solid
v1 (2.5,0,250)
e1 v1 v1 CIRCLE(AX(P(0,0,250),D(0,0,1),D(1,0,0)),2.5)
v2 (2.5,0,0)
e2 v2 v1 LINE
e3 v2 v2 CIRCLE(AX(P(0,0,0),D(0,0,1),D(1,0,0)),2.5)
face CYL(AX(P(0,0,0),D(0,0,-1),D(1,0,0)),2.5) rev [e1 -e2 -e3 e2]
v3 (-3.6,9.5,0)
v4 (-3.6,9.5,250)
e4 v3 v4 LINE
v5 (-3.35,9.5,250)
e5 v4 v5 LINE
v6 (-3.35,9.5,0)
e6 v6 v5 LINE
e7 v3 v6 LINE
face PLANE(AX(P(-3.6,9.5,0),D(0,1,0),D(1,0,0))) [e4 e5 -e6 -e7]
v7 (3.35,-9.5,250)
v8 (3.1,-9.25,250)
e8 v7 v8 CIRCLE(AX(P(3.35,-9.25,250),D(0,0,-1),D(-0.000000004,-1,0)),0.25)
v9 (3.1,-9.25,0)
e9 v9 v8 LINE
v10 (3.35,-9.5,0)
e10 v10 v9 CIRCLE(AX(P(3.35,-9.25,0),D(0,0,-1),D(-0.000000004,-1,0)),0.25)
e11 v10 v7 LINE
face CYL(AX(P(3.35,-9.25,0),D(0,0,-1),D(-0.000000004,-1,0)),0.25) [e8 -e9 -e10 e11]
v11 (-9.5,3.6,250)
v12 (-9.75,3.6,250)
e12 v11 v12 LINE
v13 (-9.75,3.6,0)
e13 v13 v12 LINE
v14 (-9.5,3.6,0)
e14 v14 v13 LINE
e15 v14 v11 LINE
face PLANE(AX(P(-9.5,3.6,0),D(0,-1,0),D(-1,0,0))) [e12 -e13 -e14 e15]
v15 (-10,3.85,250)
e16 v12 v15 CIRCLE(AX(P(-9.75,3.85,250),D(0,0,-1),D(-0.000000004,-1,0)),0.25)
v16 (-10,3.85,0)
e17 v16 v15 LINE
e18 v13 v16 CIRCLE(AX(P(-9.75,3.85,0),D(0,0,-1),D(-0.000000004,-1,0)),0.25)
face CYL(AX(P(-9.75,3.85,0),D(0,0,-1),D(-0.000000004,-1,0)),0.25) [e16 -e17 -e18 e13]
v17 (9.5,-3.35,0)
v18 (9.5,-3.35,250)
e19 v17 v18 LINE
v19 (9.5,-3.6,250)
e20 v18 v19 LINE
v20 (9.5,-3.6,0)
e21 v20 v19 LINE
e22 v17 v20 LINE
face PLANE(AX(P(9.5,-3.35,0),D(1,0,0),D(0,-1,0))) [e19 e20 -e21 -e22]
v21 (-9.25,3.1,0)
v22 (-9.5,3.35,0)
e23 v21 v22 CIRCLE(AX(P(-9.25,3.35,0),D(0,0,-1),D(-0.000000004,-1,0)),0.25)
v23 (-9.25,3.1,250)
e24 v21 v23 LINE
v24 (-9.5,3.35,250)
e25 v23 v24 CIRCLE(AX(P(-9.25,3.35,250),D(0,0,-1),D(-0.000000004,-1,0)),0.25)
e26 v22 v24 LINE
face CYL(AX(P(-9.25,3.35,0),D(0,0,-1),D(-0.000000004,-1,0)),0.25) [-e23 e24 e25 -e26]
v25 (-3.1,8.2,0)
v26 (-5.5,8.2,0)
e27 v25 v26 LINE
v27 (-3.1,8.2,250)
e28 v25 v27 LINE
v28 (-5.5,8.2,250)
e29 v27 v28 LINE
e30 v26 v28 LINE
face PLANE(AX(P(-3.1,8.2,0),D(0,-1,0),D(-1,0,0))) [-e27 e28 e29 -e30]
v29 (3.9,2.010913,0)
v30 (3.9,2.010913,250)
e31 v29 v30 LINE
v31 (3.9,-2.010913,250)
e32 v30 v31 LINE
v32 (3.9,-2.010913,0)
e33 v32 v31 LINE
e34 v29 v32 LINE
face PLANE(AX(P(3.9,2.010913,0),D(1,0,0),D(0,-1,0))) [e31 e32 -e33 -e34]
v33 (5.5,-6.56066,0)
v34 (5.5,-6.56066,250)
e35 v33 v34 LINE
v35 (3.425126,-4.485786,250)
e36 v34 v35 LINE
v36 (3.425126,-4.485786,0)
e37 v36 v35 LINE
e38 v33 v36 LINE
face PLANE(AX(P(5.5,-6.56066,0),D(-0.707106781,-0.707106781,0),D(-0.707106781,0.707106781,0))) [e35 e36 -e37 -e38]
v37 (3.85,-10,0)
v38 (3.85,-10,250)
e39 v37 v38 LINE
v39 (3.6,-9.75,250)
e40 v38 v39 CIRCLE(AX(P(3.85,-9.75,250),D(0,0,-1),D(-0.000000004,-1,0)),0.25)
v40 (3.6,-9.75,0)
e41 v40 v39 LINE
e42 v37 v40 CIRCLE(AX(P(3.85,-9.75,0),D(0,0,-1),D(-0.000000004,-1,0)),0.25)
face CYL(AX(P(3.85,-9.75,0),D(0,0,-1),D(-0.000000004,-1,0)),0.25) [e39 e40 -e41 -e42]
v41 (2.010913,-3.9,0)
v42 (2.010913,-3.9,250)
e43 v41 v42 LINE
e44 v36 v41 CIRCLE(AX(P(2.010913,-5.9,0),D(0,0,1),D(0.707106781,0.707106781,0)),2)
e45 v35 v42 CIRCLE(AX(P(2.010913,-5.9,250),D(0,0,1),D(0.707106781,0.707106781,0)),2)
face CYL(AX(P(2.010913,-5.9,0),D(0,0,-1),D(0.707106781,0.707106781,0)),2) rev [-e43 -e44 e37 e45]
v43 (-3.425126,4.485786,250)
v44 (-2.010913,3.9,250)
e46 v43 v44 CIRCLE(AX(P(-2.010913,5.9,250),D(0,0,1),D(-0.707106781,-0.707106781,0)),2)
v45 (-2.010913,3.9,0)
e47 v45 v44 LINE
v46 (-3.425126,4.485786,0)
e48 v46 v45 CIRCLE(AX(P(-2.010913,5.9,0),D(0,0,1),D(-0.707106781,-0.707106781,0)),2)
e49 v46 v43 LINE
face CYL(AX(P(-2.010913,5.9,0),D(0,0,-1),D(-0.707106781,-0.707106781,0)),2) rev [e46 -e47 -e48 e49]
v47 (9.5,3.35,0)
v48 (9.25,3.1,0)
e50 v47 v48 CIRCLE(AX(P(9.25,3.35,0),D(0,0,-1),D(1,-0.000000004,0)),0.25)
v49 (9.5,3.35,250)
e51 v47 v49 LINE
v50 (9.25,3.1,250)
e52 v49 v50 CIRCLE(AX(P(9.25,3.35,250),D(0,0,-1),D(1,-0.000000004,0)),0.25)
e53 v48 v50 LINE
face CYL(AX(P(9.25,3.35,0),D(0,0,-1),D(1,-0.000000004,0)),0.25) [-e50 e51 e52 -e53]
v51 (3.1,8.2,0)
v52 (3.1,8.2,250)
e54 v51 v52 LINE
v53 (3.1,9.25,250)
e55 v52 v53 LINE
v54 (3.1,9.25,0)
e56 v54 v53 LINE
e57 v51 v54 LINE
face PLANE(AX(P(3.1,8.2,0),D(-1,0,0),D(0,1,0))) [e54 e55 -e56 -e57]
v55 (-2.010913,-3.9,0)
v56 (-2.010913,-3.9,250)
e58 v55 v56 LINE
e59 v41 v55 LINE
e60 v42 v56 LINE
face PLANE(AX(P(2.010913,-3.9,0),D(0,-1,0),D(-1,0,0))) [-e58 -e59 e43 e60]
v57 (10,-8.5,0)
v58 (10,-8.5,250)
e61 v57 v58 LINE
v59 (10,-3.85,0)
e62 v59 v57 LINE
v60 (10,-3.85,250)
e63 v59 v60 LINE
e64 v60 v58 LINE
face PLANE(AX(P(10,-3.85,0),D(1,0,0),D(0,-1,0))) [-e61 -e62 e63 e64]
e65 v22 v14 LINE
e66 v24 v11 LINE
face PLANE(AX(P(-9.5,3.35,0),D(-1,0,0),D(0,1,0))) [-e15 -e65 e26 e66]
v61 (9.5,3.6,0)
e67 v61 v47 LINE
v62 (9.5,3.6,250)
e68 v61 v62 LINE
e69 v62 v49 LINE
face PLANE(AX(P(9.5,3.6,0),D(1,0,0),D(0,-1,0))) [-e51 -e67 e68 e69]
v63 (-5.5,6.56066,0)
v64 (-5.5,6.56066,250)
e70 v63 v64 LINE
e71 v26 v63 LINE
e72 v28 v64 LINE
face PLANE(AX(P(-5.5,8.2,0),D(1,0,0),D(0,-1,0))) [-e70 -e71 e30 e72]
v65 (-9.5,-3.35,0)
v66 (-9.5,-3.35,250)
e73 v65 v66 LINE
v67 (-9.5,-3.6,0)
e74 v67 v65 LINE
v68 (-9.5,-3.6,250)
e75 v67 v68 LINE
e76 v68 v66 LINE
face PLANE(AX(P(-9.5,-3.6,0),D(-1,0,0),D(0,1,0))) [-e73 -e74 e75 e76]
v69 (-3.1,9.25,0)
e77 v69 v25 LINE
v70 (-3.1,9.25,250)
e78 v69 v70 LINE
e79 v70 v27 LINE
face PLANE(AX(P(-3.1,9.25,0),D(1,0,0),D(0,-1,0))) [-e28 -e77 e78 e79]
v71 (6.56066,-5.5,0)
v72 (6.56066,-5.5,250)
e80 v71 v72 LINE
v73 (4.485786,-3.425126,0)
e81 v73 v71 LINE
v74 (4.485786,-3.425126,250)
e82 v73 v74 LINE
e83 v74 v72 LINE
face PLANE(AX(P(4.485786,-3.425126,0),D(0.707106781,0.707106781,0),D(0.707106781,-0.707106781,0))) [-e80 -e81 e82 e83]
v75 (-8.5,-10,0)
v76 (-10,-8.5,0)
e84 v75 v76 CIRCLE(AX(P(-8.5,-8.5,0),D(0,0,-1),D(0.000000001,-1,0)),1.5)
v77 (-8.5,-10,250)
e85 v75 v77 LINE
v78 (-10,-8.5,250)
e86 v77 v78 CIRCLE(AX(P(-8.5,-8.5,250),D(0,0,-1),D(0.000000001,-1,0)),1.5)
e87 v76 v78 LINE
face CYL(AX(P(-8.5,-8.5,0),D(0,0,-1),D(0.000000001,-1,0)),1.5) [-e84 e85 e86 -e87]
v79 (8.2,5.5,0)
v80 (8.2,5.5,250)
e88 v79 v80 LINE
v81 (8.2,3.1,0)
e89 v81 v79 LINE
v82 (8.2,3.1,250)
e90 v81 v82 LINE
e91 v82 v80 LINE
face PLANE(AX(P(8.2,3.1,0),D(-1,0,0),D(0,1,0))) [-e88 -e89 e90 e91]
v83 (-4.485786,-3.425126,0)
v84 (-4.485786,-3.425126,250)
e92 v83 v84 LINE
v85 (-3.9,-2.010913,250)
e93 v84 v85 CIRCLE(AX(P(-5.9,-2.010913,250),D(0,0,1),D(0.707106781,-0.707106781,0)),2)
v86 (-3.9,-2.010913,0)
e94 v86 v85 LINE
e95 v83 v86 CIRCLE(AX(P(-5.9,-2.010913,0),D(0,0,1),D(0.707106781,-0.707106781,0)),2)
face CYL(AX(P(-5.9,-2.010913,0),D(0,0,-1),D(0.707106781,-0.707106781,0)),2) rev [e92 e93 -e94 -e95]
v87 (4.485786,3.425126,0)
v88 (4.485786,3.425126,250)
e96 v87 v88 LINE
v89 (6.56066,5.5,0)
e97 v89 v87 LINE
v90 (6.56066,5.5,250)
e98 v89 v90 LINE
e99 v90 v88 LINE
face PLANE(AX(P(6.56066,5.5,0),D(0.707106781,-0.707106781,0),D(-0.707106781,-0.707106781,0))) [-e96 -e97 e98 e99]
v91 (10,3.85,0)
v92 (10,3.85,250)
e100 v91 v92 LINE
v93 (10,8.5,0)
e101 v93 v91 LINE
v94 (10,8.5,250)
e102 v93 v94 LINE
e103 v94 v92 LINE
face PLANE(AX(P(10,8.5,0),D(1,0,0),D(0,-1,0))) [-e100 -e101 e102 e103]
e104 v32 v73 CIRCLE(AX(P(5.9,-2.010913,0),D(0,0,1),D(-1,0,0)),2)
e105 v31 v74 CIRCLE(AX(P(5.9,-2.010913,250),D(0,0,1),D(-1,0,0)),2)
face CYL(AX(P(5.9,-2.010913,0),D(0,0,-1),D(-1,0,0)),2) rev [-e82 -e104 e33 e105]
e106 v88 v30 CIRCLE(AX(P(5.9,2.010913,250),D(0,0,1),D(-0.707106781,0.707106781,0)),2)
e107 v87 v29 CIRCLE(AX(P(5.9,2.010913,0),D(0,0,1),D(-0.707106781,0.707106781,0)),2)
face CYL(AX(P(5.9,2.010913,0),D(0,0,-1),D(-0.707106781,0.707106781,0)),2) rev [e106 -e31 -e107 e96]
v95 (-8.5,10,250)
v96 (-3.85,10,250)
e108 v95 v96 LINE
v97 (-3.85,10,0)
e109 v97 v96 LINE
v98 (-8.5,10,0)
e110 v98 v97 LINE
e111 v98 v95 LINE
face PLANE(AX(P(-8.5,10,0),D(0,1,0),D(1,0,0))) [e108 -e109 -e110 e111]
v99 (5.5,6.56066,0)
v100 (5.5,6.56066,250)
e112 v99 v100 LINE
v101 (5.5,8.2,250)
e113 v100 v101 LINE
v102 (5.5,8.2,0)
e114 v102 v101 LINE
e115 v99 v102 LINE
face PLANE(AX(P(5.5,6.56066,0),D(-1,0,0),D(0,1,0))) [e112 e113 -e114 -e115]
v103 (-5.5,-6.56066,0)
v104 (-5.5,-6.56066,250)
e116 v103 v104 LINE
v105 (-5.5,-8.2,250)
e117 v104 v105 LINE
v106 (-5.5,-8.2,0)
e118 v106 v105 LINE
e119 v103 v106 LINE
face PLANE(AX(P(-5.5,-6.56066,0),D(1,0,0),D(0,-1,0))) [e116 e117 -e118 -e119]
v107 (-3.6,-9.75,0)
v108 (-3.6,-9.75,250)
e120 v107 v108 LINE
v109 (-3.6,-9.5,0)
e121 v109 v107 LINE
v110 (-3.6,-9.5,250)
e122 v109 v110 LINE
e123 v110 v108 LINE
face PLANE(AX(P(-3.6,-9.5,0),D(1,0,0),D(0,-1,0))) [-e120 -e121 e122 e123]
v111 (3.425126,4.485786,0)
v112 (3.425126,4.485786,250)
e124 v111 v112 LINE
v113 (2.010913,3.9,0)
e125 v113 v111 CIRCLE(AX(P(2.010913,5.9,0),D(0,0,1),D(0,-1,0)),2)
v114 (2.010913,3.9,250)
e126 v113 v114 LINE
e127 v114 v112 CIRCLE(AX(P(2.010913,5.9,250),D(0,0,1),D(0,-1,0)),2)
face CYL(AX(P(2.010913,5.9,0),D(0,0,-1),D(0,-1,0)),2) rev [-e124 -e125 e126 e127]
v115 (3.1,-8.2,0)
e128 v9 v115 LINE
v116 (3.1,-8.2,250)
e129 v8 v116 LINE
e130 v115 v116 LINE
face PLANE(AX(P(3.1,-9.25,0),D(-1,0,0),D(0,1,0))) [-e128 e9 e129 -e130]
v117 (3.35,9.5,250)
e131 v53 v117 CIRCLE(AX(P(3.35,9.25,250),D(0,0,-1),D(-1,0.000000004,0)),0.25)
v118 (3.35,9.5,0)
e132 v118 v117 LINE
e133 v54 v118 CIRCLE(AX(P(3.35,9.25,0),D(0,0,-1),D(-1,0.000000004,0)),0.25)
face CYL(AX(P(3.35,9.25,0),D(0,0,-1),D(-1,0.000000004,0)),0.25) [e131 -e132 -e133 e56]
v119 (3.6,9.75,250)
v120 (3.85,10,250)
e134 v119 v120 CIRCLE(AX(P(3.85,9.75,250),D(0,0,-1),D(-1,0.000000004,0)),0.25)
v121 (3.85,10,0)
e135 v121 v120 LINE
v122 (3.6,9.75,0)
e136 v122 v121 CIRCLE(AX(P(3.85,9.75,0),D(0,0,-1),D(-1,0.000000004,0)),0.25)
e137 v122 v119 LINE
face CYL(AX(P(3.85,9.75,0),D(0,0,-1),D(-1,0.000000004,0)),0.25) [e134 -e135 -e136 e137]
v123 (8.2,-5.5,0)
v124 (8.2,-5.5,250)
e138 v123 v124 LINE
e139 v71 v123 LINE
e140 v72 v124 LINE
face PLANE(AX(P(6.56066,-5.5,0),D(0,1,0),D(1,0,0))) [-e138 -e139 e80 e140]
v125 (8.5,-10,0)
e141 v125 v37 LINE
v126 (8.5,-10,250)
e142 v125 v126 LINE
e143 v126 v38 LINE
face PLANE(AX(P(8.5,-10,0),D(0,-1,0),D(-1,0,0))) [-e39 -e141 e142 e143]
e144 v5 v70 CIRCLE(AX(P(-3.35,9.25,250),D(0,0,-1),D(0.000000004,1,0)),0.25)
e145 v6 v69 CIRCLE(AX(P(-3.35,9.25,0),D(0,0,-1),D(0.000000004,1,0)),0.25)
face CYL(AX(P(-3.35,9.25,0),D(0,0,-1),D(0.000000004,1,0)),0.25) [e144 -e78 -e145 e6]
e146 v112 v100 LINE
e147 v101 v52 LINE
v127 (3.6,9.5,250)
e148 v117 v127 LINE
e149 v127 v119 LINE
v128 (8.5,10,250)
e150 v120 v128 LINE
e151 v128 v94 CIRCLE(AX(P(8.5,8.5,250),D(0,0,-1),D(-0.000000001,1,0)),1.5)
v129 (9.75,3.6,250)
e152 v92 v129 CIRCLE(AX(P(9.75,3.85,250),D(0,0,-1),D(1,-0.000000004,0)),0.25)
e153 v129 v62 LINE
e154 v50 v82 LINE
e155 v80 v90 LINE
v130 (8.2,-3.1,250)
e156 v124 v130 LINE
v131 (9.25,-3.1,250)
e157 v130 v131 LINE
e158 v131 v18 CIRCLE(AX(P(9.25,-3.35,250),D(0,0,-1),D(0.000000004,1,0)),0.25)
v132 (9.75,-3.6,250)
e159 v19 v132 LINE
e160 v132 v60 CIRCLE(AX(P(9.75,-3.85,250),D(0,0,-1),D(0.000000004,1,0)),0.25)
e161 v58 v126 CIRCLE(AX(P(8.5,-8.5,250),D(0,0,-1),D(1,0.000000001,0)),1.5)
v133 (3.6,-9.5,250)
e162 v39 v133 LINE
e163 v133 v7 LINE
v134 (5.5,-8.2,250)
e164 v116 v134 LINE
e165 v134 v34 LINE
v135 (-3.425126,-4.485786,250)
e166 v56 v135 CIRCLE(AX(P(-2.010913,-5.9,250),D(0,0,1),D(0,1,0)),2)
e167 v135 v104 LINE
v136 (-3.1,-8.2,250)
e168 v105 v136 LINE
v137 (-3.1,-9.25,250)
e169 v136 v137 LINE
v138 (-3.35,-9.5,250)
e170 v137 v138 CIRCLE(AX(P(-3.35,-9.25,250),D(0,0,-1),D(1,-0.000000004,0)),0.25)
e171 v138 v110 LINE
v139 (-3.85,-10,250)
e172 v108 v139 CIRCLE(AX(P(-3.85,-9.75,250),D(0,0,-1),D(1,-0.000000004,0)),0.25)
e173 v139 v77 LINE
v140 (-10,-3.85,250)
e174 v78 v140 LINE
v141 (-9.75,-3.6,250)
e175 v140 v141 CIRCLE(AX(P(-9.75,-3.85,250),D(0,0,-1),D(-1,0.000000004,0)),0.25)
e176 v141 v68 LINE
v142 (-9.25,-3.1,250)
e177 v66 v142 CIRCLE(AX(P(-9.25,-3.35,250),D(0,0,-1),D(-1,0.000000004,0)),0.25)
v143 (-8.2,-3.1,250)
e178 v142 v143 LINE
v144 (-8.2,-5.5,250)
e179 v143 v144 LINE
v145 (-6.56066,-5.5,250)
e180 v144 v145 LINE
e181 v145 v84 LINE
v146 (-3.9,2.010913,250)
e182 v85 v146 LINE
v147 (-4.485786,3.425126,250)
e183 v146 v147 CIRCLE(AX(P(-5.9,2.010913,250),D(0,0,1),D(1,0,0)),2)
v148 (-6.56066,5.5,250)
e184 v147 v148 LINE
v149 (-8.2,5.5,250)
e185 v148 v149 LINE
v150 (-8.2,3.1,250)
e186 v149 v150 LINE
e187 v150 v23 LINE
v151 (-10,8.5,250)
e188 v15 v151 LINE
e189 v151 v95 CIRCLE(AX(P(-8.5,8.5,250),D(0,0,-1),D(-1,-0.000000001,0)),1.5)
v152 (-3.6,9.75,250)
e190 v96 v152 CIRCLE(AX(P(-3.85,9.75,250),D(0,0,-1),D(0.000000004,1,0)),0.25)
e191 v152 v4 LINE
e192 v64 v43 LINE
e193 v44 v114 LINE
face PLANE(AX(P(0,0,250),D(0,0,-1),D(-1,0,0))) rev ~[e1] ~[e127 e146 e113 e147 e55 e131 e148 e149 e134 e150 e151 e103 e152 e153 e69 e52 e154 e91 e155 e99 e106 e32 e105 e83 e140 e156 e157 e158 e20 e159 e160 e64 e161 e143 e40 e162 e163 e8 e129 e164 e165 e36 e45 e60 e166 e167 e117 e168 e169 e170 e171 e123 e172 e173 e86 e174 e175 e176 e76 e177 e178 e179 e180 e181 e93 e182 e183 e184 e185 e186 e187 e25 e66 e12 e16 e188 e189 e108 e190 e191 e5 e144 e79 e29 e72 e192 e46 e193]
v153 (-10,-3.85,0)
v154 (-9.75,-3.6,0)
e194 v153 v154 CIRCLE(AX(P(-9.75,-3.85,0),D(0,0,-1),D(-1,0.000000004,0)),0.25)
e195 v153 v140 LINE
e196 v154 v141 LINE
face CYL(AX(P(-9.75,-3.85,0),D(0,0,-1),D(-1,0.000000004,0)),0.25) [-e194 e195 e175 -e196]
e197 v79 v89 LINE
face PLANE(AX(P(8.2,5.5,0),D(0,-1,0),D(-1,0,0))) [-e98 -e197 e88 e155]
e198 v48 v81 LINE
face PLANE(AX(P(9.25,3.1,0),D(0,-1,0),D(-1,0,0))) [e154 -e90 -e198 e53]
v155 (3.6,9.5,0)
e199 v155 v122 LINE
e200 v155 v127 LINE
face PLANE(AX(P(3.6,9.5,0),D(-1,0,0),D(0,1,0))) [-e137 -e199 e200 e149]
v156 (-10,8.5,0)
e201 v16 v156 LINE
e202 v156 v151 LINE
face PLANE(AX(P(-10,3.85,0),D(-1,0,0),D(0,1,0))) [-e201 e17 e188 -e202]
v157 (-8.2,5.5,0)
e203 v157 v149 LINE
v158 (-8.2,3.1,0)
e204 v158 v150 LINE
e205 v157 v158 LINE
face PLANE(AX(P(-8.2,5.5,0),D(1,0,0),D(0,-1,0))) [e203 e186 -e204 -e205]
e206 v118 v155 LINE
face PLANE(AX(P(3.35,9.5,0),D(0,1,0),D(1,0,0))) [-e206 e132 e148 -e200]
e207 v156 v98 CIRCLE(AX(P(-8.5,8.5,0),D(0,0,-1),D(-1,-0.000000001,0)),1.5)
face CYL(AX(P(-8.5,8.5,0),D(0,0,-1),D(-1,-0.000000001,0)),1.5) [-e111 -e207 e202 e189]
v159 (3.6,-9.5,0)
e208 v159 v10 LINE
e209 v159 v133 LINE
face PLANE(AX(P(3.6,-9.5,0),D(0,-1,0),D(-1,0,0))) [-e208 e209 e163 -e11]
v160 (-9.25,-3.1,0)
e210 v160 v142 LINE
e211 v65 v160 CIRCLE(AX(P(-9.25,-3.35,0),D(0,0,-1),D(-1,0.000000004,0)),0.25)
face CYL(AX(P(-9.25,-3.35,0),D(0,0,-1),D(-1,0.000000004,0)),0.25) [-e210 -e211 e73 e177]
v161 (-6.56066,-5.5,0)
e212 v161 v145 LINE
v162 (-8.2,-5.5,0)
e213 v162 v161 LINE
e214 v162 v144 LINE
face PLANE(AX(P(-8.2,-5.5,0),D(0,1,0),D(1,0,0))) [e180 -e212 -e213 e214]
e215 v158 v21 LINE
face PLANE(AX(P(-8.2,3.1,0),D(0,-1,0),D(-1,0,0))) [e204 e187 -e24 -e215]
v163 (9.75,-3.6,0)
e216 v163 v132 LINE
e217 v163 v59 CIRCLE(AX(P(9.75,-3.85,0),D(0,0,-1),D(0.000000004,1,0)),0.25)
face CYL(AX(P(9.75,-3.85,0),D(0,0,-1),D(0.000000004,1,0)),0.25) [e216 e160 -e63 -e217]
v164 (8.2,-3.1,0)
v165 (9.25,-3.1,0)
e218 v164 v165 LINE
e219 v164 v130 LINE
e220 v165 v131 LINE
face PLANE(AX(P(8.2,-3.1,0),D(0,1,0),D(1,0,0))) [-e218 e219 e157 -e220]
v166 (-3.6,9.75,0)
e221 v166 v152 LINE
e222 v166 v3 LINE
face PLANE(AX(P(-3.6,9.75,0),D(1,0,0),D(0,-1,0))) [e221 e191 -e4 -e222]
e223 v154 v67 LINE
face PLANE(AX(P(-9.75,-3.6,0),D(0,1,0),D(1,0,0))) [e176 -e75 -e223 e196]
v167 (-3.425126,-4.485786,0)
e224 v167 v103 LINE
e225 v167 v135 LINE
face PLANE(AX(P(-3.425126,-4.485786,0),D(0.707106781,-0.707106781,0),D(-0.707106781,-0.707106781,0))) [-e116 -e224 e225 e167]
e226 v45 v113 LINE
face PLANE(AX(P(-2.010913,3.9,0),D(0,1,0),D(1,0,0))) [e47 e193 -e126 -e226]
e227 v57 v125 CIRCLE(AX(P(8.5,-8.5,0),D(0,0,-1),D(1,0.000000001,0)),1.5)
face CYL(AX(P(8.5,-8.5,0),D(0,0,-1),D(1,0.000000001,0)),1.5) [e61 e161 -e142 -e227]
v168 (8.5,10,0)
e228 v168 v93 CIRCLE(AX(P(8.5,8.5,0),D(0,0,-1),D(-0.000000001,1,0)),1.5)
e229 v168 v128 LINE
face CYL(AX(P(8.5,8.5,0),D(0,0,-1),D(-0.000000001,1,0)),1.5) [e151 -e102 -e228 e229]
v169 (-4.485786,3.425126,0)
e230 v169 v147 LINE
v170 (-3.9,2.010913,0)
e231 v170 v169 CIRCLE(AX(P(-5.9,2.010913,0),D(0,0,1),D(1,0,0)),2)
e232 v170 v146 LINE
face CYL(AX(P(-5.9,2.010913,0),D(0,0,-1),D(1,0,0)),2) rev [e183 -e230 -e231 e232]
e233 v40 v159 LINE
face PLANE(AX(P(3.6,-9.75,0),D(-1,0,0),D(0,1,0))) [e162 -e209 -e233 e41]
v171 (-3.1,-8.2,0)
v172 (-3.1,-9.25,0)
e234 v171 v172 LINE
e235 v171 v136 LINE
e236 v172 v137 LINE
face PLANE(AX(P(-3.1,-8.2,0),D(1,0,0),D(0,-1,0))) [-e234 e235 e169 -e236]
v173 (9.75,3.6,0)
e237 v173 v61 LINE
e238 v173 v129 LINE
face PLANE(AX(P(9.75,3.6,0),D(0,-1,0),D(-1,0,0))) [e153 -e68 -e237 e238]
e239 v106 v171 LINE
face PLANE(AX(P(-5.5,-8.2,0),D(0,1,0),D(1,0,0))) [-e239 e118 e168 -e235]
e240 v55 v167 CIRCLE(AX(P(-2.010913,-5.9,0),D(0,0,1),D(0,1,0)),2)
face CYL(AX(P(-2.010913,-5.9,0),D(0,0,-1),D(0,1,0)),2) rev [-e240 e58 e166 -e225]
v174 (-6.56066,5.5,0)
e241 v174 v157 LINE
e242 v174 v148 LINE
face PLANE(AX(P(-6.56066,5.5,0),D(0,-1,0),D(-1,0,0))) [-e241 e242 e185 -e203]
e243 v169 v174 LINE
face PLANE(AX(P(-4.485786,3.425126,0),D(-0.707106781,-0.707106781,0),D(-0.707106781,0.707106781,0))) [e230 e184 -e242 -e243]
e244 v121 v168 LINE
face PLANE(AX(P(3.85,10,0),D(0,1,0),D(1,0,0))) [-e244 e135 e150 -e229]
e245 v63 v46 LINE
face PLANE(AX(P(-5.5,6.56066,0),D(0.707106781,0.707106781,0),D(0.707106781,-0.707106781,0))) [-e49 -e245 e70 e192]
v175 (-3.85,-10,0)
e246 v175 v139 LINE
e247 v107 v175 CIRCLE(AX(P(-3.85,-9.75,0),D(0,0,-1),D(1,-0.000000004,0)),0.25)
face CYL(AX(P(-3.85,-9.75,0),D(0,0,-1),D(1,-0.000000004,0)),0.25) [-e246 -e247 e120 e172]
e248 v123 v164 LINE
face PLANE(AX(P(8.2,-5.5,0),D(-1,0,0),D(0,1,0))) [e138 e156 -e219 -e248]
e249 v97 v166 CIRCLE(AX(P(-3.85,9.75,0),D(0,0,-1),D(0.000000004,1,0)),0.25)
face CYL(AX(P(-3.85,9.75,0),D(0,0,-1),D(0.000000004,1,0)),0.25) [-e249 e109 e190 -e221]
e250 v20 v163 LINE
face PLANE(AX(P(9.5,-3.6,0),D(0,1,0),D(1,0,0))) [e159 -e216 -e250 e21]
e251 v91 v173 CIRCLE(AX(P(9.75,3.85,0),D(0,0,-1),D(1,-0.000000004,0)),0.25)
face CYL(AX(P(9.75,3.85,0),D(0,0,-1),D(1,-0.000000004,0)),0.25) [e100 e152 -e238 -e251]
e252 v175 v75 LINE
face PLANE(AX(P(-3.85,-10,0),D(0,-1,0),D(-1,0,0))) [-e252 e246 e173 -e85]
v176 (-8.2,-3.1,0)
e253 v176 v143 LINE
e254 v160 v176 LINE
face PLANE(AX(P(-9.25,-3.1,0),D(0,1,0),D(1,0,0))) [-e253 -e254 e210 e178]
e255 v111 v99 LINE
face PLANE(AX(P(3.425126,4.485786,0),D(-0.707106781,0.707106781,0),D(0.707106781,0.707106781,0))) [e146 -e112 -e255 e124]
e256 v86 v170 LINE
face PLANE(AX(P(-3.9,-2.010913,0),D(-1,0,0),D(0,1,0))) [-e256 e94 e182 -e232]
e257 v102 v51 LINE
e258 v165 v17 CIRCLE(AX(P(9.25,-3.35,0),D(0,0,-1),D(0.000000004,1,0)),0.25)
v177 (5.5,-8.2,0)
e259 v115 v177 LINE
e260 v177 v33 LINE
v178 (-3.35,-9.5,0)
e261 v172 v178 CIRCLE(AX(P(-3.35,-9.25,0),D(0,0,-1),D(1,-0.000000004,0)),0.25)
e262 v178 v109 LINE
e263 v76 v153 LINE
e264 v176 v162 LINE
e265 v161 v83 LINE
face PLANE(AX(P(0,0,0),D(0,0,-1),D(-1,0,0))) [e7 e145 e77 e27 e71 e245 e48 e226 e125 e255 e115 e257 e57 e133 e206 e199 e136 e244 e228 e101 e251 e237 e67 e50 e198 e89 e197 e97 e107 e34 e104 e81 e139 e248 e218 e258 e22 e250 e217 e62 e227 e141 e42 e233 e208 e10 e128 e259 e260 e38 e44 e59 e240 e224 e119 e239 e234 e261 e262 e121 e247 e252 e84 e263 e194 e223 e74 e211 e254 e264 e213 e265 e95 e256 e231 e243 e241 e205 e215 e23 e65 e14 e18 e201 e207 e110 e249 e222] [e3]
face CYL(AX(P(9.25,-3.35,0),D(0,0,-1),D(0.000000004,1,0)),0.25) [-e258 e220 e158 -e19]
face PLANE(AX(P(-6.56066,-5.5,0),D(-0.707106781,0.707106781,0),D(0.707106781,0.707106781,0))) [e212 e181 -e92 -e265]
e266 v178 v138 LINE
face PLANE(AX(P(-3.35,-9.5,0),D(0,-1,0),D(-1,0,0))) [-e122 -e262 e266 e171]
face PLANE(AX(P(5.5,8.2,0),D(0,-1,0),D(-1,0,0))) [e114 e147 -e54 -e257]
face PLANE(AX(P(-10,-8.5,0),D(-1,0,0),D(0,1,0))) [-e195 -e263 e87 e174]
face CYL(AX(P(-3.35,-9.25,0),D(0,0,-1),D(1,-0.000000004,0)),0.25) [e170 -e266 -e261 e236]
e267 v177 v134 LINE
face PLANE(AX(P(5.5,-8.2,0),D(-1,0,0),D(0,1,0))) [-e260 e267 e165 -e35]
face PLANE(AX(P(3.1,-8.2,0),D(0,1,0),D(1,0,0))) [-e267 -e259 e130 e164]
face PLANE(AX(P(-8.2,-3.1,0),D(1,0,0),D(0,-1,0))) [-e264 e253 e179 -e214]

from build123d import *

# Parameters (mm, degrees)
SKETCH1_R           = 2.5
BOSS_EXTRUDE1_DEPTH = 250


with BuildPart() as part:
    # Sketch1 → Boss-Extrude1 (new body)
    with BuildSketch(Plane.XY):
        with BuildLine():
            Line((-8.5, 10), (-3.85, 10))
            ThreePointArc((-3.85, 10), (-3.673223305, 9.926776695), (-3.6, 9.75))
            Line((-3.6, 9.75), (-3.6, 9.5))
            Line((-3.6, 9.5), (-3.35, 9.5))
            ThreePointArc((-3.35, 9.5), (-3.173223305, 9.426776695), (-3.1, 9.25))
            Line((-3.1, 9.25), (-3.1, 8.2))
            Line((-3.1, 8.2), (-5.5, 8.2))
            Line((-5.5, 8.2), (-5.5, 6.560660172))
            Line((-5.5, 6.560660172), (-3.425126266, 4.485786438))
            ThreePointArc((-3.425126266, 4.485786438), (-2.776279568, 4.052240935), (-2.010912703, 3.9))
            Line((-2.010912703, 3.9), (2.010912703, 3.9))
            ThreePointArc((2.010912703, 3.9), (2.776279568, 4.052240935), (3.425126266, 4.485786438))
            Line((3.425126266, 4.485786438), (5.5, 6.560660172))
            Line((5.5, 6.560660172), (5.5, 8.2))
            Line((5.5, 8.2), (3.1, 8.2))
            Line((3.1, 8.2), (3.1, 9.25))
            ThreePointArc((3.1, 9.25), (3.173223305, 9.426776695), (3.35, 9.5))
            Line((3.35, 9.5), (3.6, 9.5))
            Line((3.6, 9.5), (3.6, 9.75))
            ThreePointArc((3.6, 9.75), (3.673223305, 9.926776695), (3.85, 10))
            Line((3.85, 10), (8.5, 10))
            ThreePointArc((8.5, 10), (9.560660172, 9.560660172), (10, 8.5))
            Line((10, 8.5), (10, 3.85))
            ThreePointArc((10, 3.85), (9.926776695, 3.673223305), (9.75, 3.6))
            Line((9.75, 3.6), (9.5, 3.6))
            Line((9.5, 3.6), (9.5, 3.35))
            ThreePointArc((9.5, 3.35), (9.426776695, 3.173223305), (9.25, 3.1))
            Line((9.25, 3.1), (8.2, 3.1))
            Line((8.2, 3.1), (8.2, 5.5))
            Line((8.2, 5.5), (6.560660172, 5.5))
            Line((6.560660172, 5.5), (4.485786438, 3.425126266))
            ThreePointArc((4.485786438, 3.425126266), (4.052240935, 2.776279568), (3.9, 2.010912703))
            Line((3.9, 2.010912703), (3.9, -2.010912703))
            ThreePointArc((3.9, -2.010912703), (4.052240935, -2.776279568), (4.485786438, -3.425126266))
            Line((4.485786438, -3.425126266), (6.560660172, -5.5))
            Line((6.560660172, -5.5), (8.2, -5.5))
            Line((8.2, -5.5), (8.2, -3.1))
            Line((8.2, -3.1), (9.25, -3.1))
            ThreePointArc((9.25, -3.1), (9.426776695, -3.173223305), (9.5, -3.35))
            Line((9.5, -3.35), (9.5, -3.6))
            Line((9.5, -3.6), (9.75, -3.6))
            ThreePointArc((9.75, -3.6), (9.926776695, -3.673223305), (10, -3.85))
            Line((10, -3.85), (10, -8.5))
            ThreePointArc((10, -8.5), (9.560660172, -9.560660172), (8.5, -10))
            Line((8.5, -10), (3.85, -10))
            ThreePointArc((3.85, -10), (3.673223305, -9.926776695), (3.6, -9.75))
            Line((3.6, -9.75), (3.6, -9.5))
            Line((3.6, -9.5), (3.35, -9.5))
            ThreePointArc((3.35, -9.5), (3.173223305, -9.426776695), (3.1, -9.25))
            Line((3.1, -9.25), (3.1, -8.2))
            Line((3.1, -8.2), (5.5, -8.2))
            Line((5.5, -8.2), (5.5, -6.560660172))
            Line((5.5, -6.560660172), (3.425126266, -4.485786438))
            ThreePointArc((3.425126266, -4.485786438), (2.776279568, -4.052240935), (2.010912703, -3.9))
            Line((2.010912703, -3.9), (-2.010912703, -3.9))
            ThreePointArc((-2.010912703, -3.9), (-2.776279568, -4.052240935), (-3.425126266, -4.485786438))
            Line((-3.425126266, -4.485786438), (-5.5, -6.560660172))
            Line((-5.5, -6.560660172), (-5.5, -8.2))
            Line((-5.5, -8.2), (-3.1, -8.2))
            Line((-3.1, -8.2), (-3.1, -9.25))
            ThreePointArc((-3.1, -9.25), (-3.173223305, -9.426776695), (-3.35, -9.5))
            Line((-3.35, -9.5), (-3.6, -9.5))
            Line((-3.6, -9.5), (-3.6, -9.75))
            ThreePointArc((-3.6, -9.75), (-3.673223305, -9.926776695), (-3.85, -10))
            Line((-3.85, -10), (-8.5, -10))
            ThreePointArc((-8.5, -10), (-9.560660172, -9.560660172), (-10, -8.5))
            Line((-10, -8.5), (-10, -3.85))
            ThreePointArc((-10, -3.85), (-9.926776695, -3.673223305), (-9.75, -3.6))
            Line((-9.75, -3.6), (-9.5, -3.6))
            Line((-9.5, -3.6), (-9.5, -3.35))
            ThreePointArc((-9.5, -3.35), (-9.426776695, -3.173223305), (-9.25, -3.1))
            Line((-9.25, -3.1), (-8.2, -3.1))
            Line((-8.2, -3.1), (-8.2, -5.5))
            Line((-8.2, -5.5), (-6.560660172, -5.5))
            Line((-6.560660172, -5.5), (-4.485786438, -3.425126266))
            ThreePointArc((-4.485786438, -3.425126266), (-4.052240935, -2.776279568), (-3.9, -2.010912703))
            Line((-3.9, -2.010912703), (-3.9, 2.010912703))
            ThreePointArc((-3.9, 2.010912703), (-4.052240935, 2.776279568), (-4.485786438, 3.425126266))
            Line((-4.485786438, 3.425126266), (-6.560660172, 5.5))
            Line((-6.560660172, 5.5), (-8.2, 5.5))
            Line((-8.2, 5.5), (-8.2, 3.1))
            Line((-8.2, 3.1), (-9.25, 3.1))
            ThreePointArc((-9.25, 3.1), (-9.426776695, 3.173223305), (-9.5, 3.35))
            Line((-9.5, 3.35), (-9.5, 3.6))
            Line((-9.5, 3.6), (-9.75, 3.6))
            ThreePointArc((-9.75, 3.6), (-9.926776695, 3.673223305), (-10, 3.85))
            Line((-10, 3.85), (-10, 8.5))
            ThreePointArc((-10, 8.5), (-9.560660172, 9.560660172), (-8.5, 10))
        make_face()
        Circle(SKETCH1_R, mode=Mode.SUBTRACT)
    extrude(amount=BOSS_EXTRUDE1_DEPTH)


solid = part.part
